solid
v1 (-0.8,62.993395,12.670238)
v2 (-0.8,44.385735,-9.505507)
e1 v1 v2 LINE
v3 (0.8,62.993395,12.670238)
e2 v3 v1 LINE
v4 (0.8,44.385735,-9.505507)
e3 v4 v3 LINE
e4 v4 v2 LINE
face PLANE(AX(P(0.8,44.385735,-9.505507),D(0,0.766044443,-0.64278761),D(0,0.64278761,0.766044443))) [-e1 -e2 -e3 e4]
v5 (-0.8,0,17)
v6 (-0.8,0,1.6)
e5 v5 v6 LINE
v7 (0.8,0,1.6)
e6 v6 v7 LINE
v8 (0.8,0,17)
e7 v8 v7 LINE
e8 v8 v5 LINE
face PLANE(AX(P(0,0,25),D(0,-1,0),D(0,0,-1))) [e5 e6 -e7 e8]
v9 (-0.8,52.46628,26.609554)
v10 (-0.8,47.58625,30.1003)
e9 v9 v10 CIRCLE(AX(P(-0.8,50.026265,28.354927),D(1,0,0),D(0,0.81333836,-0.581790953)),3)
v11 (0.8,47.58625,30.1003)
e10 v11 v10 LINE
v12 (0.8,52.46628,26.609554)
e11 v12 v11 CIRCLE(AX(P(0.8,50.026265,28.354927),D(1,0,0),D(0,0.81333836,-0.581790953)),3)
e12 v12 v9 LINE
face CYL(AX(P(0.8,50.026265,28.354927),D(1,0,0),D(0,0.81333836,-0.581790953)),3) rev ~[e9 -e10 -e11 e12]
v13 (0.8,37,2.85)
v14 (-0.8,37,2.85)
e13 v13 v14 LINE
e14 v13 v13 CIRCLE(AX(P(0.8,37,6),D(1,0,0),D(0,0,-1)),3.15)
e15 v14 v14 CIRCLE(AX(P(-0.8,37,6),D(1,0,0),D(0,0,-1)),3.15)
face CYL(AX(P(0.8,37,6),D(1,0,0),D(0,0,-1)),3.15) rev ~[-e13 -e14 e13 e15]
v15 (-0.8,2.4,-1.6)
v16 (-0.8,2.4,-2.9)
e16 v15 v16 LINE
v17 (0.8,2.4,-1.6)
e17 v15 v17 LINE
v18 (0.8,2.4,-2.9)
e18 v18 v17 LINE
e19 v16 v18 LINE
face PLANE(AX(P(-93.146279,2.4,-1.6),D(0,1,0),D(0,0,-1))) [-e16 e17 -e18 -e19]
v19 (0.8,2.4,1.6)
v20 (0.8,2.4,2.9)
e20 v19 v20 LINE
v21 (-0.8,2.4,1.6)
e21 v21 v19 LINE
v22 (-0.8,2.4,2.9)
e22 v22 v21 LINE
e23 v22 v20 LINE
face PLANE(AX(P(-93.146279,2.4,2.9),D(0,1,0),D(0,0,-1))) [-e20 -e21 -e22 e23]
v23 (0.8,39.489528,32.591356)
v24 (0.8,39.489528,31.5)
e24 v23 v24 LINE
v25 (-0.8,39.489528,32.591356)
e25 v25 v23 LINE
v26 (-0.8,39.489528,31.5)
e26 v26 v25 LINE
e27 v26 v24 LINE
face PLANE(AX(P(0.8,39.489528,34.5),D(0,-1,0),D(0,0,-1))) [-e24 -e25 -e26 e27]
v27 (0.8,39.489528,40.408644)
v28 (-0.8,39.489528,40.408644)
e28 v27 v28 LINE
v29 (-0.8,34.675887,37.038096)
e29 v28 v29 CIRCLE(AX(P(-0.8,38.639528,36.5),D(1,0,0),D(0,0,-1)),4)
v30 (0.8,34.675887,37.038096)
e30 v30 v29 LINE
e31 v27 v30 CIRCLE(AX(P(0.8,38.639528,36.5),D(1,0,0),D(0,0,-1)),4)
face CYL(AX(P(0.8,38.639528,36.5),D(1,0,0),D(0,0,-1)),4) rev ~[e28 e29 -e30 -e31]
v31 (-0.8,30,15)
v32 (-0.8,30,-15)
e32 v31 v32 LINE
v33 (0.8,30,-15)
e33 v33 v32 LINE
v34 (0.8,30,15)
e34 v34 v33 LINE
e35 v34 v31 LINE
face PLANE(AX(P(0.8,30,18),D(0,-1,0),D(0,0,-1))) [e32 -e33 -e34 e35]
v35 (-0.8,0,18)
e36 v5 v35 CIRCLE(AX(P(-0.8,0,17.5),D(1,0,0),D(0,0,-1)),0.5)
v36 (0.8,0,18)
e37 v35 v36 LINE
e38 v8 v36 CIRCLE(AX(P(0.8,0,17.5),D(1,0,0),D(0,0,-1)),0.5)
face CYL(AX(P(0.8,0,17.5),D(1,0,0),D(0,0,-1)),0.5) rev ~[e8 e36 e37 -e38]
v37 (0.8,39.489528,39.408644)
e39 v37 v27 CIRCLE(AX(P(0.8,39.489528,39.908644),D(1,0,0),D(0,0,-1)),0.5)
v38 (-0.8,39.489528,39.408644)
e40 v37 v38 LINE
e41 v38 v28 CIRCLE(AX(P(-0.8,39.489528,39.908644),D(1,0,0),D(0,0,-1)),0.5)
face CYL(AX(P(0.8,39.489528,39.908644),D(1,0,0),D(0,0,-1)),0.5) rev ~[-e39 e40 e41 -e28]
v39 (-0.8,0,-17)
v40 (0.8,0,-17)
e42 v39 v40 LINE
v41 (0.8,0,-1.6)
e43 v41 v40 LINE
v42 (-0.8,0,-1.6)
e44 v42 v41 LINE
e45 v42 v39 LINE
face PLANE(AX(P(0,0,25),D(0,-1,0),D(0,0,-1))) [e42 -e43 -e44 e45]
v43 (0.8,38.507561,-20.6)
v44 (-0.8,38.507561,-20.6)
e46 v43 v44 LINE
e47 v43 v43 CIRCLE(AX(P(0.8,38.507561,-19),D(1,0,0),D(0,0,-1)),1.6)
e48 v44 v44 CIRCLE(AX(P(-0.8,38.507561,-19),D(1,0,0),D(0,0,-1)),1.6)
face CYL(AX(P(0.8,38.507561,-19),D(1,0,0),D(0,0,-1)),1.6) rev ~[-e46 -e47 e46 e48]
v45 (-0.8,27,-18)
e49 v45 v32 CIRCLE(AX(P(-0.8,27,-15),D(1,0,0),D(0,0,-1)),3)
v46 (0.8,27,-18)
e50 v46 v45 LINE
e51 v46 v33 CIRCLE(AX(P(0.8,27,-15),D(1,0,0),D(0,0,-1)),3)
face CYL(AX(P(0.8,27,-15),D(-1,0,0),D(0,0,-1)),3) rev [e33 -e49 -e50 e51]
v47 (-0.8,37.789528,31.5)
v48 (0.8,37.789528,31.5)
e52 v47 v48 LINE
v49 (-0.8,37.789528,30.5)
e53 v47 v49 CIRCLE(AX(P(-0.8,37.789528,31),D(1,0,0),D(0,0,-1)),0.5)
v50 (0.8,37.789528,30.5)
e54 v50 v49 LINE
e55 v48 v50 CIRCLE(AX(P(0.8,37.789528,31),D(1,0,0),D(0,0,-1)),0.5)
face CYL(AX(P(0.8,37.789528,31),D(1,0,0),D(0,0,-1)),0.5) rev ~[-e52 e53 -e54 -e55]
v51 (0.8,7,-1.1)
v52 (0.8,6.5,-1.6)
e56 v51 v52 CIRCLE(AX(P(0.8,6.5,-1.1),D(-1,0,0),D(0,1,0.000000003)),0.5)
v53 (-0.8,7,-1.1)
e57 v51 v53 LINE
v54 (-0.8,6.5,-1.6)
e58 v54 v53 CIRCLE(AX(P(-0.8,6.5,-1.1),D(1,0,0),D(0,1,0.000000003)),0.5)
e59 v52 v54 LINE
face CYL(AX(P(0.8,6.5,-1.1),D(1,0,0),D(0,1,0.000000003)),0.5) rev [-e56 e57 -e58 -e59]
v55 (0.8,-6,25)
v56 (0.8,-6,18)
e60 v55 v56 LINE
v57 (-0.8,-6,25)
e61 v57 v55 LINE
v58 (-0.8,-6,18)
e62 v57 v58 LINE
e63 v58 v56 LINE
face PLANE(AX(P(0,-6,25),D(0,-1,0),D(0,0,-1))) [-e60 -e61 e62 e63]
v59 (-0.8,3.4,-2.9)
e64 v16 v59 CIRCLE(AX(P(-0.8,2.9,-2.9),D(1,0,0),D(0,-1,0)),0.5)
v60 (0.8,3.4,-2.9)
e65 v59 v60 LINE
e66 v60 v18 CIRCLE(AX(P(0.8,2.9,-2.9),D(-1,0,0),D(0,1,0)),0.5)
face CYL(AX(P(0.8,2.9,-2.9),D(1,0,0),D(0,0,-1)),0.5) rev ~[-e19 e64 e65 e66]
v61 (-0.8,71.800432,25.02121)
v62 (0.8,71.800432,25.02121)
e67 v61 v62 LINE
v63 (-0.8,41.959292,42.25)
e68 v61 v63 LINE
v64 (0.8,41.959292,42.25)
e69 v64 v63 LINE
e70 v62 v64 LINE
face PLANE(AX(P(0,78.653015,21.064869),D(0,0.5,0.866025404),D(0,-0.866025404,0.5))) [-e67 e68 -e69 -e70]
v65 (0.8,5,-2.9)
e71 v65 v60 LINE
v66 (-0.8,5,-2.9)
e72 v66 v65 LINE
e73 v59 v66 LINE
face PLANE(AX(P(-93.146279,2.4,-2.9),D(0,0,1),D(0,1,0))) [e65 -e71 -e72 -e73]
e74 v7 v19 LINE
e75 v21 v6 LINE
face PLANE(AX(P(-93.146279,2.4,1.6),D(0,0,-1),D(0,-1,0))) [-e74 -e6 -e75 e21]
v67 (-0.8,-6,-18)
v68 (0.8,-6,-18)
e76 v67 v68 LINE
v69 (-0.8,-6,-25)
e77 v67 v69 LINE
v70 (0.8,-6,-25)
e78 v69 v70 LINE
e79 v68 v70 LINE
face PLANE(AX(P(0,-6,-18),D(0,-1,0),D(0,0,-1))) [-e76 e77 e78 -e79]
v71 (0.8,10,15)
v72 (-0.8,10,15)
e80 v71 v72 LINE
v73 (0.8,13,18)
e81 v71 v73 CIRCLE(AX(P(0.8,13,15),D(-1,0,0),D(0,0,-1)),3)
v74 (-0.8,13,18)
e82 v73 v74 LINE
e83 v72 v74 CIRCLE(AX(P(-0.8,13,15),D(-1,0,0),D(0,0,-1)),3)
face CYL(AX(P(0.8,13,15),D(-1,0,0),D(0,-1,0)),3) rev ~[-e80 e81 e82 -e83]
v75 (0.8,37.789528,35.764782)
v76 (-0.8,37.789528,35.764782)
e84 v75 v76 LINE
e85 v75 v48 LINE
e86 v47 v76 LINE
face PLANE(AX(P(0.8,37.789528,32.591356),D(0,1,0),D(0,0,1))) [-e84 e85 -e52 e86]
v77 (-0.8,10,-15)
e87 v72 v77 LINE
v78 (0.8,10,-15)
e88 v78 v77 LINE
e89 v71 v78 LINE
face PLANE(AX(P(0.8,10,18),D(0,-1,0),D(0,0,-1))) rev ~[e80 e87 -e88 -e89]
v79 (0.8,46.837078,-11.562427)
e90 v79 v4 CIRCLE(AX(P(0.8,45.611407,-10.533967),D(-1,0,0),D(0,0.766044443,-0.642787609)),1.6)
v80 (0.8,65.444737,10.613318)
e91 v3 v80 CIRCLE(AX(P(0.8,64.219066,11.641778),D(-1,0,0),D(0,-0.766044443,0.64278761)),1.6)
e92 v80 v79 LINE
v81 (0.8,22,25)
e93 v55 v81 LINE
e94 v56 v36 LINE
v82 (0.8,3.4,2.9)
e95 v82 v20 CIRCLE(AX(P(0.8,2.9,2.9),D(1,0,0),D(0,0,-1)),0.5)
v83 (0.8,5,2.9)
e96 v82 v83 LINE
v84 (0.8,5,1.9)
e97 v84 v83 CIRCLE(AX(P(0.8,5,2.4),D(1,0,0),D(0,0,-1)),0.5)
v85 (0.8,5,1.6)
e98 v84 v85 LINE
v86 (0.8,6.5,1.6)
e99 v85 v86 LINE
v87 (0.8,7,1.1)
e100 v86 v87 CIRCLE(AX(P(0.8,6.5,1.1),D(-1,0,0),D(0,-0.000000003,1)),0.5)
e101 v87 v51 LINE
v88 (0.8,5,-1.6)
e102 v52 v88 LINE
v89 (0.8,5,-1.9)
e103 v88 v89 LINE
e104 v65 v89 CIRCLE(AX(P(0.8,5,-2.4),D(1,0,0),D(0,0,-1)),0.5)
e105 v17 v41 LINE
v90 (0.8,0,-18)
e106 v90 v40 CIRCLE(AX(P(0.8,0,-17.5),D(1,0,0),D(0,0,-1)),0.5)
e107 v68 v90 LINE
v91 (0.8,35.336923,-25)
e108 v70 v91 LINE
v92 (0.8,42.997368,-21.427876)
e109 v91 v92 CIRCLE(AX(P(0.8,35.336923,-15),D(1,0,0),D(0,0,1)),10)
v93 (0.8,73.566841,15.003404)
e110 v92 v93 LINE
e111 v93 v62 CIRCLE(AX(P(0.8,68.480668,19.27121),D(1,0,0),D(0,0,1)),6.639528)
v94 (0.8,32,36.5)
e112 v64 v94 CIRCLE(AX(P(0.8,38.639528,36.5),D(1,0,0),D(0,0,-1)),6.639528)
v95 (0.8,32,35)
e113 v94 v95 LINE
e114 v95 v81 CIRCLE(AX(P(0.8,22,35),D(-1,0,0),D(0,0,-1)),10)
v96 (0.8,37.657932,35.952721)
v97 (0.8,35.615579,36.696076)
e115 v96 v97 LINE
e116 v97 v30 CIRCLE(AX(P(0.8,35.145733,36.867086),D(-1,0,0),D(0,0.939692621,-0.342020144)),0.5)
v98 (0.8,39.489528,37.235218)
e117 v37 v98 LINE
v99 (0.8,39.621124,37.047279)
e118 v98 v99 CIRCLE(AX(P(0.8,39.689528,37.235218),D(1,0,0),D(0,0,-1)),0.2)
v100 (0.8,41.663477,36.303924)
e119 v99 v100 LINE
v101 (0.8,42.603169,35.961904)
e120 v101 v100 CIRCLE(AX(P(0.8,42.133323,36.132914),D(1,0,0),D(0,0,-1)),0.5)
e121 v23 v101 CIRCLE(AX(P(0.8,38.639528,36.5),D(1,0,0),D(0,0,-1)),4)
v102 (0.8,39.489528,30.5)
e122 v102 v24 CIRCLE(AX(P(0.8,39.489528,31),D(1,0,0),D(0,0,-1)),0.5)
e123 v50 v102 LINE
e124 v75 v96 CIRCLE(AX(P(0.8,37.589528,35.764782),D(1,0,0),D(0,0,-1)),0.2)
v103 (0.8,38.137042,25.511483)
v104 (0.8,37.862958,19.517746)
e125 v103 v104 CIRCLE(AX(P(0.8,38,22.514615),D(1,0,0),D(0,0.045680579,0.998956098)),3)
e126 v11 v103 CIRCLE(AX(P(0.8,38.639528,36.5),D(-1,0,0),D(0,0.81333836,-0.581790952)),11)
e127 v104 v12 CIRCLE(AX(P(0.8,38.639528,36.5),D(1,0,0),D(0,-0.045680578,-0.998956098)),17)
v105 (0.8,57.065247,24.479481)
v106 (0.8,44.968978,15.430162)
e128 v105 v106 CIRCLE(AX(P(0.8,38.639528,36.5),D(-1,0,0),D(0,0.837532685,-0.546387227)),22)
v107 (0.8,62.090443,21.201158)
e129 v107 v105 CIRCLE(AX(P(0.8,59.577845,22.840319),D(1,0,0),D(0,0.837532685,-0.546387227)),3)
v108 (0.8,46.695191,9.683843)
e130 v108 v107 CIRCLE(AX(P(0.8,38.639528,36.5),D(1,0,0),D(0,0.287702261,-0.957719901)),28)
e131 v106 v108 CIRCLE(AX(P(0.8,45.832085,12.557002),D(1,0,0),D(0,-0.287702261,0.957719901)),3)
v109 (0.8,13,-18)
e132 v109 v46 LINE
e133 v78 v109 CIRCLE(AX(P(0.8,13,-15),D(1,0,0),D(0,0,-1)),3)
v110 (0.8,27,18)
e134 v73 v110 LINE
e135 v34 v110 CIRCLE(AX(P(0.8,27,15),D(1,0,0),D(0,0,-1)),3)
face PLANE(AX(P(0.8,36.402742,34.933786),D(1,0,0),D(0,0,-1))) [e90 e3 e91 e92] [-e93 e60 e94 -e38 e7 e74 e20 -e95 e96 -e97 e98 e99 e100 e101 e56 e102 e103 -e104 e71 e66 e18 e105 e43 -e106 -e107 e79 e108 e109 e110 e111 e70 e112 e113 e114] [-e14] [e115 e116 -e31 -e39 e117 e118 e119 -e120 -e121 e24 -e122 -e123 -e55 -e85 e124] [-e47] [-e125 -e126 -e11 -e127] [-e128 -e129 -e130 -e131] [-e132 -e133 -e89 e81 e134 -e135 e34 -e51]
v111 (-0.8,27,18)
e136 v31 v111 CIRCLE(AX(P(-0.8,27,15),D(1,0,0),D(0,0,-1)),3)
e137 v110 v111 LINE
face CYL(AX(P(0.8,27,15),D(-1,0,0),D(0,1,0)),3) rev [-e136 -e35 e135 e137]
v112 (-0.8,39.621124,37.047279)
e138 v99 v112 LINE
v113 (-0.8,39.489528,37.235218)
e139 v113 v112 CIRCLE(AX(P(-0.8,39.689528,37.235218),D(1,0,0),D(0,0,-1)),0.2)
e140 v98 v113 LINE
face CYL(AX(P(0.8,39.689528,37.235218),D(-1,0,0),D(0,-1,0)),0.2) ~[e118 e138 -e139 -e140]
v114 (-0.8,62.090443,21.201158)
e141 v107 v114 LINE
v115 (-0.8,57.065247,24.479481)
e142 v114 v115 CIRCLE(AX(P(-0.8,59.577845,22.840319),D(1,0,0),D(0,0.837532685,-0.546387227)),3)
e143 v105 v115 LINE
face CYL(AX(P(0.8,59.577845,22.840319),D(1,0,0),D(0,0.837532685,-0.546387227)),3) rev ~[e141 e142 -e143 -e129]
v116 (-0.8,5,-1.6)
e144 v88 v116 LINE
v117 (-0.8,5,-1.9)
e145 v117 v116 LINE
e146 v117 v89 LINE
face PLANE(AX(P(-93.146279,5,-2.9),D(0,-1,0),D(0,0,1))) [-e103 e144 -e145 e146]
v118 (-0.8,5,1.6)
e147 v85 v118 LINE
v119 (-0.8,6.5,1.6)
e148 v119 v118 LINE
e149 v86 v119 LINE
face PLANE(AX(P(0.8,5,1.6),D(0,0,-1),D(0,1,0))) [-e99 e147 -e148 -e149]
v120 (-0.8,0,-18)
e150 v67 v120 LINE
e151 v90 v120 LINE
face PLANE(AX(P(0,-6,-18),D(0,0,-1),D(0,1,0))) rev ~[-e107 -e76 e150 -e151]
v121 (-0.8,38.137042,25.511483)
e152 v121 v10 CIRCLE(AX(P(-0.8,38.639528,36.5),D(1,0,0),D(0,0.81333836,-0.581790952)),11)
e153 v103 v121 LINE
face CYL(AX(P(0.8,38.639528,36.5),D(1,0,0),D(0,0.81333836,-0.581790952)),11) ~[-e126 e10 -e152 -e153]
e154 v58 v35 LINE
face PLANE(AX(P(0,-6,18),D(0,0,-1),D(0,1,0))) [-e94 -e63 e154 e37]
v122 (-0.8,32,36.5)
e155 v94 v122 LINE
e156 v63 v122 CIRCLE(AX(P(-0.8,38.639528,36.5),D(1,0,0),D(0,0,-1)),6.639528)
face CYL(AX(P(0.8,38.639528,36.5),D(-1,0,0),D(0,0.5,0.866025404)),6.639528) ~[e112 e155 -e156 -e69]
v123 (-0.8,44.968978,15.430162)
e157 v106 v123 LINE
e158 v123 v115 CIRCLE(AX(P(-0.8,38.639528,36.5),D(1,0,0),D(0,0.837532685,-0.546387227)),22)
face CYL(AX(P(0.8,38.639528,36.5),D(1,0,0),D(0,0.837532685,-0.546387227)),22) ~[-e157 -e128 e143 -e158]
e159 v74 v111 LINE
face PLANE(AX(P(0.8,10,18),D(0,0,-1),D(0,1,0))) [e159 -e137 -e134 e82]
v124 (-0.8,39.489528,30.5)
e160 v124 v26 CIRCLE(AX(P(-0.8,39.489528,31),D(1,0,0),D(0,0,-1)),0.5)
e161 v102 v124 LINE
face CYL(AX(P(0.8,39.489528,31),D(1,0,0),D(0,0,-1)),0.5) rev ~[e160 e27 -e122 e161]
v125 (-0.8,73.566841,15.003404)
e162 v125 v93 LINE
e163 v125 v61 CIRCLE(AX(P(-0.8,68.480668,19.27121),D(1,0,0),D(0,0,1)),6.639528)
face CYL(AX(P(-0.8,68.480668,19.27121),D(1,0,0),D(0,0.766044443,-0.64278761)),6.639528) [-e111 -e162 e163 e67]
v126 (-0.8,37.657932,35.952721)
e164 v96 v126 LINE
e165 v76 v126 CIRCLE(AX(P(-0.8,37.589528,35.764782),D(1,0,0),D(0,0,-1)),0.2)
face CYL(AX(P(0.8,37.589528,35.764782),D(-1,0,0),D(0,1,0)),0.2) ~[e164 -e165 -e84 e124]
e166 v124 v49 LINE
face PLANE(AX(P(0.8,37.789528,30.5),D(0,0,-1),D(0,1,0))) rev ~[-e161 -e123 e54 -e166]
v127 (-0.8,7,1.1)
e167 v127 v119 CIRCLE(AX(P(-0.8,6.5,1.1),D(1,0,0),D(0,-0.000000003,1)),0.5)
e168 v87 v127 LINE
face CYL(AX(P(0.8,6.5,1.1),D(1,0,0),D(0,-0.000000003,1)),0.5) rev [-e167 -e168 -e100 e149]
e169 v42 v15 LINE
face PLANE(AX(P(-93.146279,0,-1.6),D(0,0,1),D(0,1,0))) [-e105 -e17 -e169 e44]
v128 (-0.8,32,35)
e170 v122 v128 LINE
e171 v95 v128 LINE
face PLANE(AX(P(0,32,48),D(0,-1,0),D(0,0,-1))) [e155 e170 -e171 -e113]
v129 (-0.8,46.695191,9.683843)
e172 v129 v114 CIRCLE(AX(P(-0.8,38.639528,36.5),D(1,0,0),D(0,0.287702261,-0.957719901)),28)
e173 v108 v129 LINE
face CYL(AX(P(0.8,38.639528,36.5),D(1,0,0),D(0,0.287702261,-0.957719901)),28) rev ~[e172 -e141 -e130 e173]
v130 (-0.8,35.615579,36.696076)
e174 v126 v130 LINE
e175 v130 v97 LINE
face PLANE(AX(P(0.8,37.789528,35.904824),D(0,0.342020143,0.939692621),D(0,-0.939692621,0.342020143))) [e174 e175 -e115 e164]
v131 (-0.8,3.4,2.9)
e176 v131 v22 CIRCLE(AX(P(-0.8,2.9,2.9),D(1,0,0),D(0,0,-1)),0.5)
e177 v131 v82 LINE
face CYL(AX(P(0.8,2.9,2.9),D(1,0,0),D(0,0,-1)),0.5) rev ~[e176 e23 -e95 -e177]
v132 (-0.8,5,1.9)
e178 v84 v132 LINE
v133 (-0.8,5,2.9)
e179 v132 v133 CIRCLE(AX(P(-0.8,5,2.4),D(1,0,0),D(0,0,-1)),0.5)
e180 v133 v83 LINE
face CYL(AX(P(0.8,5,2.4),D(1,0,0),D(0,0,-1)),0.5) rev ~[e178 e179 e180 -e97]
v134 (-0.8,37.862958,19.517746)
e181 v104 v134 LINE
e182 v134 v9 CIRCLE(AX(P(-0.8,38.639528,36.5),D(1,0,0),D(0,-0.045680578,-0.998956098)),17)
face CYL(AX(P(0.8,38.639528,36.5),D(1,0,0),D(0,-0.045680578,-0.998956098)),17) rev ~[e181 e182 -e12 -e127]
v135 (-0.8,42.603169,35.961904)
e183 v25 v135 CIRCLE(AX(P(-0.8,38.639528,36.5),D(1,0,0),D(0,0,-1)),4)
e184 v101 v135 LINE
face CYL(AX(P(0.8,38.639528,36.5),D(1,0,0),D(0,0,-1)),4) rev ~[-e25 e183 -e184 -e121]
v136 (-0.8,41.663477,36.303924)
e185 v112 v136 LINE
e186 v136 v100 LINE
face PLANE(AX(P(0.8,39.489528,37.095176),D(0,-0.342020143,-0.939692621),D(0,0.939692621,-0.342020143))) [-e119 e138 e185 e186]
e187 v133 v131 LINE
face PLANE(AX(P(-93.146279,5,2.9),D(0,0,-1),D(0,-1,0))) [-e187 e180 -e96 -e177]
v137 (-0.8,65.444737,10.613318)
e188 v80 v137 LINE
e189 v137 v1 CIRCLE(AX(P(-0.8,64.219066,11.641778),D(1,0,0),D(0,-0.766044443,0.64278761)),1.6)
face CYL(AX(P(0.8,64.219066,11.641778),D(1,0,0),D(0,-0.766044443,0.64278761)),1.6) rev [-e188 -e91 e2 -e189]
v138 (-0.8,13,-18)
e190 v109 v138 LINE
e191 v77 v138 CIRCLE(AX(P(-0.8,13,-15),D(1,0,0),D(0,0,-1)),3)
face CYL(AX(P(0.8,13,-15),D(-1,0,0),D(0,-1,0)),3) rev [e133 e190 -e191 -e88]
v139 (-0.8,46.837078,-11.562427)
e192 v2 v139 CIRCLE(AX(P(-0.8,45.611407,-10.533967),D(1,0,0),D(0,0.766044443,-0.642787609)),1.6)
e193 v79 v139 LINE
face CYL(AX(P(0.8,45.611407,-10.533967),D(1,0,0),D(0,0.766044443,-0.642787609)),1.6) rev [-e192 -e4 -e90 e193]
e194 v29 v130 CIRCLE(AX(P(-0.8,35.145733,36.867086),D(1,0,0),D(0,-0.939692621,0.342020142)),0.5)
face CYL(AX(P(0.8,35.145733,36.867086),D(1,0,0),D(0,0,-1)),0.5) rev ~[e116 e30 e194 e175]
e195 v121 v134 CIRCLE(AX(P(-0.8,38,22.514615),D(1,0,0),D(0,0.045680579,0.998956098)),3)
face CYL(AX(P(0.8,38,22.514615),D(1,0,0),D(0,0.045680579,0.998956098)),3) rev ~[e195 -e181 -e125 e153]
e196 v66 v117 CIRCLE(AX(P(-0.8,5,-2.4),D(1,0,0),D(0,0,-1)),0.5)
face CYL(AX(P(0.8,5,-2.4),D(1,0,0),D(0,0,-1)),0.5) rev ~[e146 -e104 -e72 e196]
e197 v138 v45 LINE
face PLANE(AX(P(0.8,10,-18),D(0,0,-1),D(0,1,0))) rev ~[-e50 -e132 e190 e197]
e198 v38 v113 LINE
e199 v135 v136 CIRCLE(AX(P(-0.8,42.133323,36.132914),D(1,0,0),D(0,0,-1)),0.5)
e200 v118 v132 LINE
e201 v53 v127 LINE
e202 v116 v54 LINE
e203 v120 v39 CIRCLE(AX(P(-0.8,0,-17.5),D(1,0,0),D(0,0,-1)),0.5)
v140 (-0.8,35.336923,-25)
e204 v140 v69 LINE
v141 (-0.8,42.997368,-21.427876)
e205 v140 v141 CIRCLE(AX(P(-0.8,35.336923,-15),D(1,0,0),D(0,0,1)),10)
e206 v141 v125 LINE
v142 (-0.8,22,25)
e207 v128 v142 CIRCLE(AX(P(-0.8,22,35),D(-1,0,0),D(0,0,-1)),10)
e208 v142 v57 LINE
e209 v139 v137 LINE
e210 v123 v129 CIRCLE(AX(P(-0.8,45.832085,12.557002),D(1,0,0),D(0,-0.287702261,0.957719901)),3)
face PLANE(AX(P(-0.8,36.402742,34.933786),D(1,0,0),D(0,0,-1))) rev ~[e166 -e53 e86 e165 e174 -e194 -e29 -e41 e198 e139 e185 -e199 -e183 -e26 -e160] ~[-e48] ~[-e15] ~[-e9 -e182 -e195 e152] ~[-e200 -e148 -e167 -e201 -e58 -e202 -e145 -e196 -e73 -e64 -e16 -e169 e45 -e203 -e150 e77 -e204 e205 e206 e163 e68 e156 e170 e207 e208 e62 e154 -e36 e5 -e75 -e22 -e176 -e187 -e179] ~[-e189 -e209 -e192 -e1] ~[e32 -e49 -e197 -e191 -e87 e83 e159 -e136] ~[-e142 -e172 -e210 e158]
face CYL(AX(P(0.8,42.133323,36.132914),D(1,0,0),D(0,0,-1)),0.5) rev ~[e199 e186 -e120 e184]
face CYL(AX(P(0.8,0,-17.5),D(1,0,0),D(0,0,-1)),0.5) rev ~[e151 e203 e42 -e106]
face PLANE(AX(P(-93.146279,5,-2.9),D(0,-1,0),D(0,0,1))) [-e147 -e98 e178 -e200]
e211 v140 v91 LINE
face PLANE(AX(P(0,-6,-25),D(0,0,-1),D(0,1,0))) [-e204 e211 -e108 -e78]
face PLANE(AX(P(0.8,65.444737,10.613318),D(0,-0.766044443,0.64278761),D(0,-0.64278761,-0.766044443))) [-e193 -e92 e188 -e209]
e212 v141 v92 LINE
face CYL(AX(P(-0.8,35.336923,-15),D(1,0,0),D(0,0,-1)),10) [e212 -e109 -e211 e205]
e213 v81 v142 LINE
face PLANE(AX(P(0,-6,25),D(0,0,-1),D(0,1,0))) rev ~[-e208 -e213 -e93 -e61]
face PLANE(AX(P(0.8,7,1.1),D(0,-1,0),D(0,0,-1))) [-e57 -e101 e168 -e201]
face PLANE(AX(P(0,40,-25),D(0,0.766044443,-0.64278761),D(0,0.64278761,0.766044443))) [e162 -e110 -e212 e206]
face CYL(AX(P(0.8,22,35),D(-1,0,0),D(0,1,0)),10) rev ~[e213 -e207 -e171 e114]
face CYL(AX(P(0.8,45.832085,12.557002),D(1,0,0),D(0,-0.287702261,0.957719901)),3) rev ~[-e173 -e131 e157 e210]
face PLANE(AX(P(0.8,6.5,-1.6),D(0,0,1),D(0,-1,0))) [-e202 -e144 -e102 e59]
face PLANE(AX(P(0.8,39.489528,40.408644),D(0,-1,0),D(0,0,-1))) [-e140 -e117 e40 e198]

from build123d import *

# Parameters (mm, degrees)
MAIN_BODY_DEPTH                     = 0.8
SLOT_TABS_REACH                     = 94.146
SKETCH2_W                           = 7
SKETCH2_H                           = 6
SLOT_TABS_DIRECTION_2_REACH         = 94.146
ATTACHMENT_T_SLOT_DEPTH             = 93.146279065
ATTACHMENT_T_SLOT_DEPTH_BACK        = 93.146279065
SKETCH5_R                           = 1.6
CAMERA_SLOT_AND_STANDOFF_HOLE_DEPTH = 93.156696694
SKETCH6_R                           = 4
CAMERA_PLATE_HOLE_DEPTH             = 93.156696694
SKETCH9_W                           = 4
SKETCH9_H                           = 1.7
CAMERA_PLATE_SLOT_DEPTH             = 93.156696694
ANGLE_GUARD_DEPTH                   = 1.6
SKETCH7_W                           = 36
SKETCH7_H                           = 20
CUT_EXTRUDE4_DEPTH                  = 93.156696694
CAMERA_PLATE_HOLE_EASE_R            = 0.2
ACCESS_HOLE_FILLET_R                = 3
SECONDARY_FILLET_R                  = 10
CAMERA_EDGE_FILLET_R                = 6.639528096
SKETCH8_R                           = 3.15
TX_MOUNT_HOLE_DEPTH                 = 87.640768077
CUT_EXTRUDE5_REACH                  = 88.641
SKETCH14_R                          = 0.5
CUT_EXTRUDE6_REACH                  = 88.641


with BuildPart() as part:
    # Sketch1 → main body (new, symmetric)
    with BuildSketch(Plane(origin=(0, 0, 0), x_dir=(0, 0, -1), z_dir=(1, 0, 0))):
        Polygon((-25, 0), (25, 0), (25, 40), (-21.064869316, 78.653014853), (-48, 32), (-25, 32), align=None)
    extrude(amount=MAIN_BODY_DEPTH, both=True)

    # slot tabs: up to this face of the body (flat: up to its plane)
    slot_tabs_end = Plane(part.part.faces().sort_by_distance((0.8, 33.215216507, 6.663009482))[0])
    # Sketch2 → slot tabs (add, up to the picked face)
    with BuildSketch(Plane(origin=(0, 0, 0), x_dir=(0, 0, -1), z_dir=(1, 0, 0)), mode=Mode.PRIVATE) as slot_tabs_sk1:
        with Locations((-21.5, -3)):
            Rectangle(SKETCH2_W, SKETCH2_H)
    slot_tabs_tool1 = split(extrude(slot_tabs_sk1.sketch, amount=SLOT_TABS_REACH, mode=Mode.PRIVATE), bisect_by=slot_tabs_end, keep=Keep.BOTH, mode=Mode.PRIVATE)
    # Sketch2 → slot tabs (add, up to the picked face)
    with BuildSketch(Plane(origin=(0, 0, 0), x_dir=(0, 0, -1), z_dir=(1, 0, 0)), mode=Mode.PRIVATE) as slot_tabs_sk2:
        with Locations((21.5, -3)):
            Rectangle(SKETCH2_W, SKETCH2_H)
    slot_tabs_tool2 = split(extrude(slot_tabs_sk2.sketch, amount=SLOT_TABS_REACH, mode=Mode.PRIVATE), bisect_by=slot_tabs_end, keep=Keep.BOTH, mode=Mode.PRIVATE)
    add(slot_tabs_tool1.solids().sort_by(Axis((0, -3, 21.5), (1, 0, 0)))[0])
    add(slot_tabs_tool2.solids().sort_by(Axis((0, -3, -21.5), (1, 0, 0)))[0])

    # slot tabs direction 2: up to this face of the body (flat: up to its plane)
    slot_tabs_direction_2_end = Plane(part.part.faces().sort_by_distance((-0.8, 33.215216507, 6.663009482))[0])
    # Sketch2 → slot tabs direction 2 (add, up to the picked face)
    with BuildSketch(Plane(origin=(0, 0, 0), x_dir=(0, 0, -1), z_dir=(1, 0, 0)), mode=Mode.PRIVATE) as slot_tabs_direction_2_sk1:
        with Locations((-21.5, -3)):
            Rectangle(SKETCH2_W, SKETCH2_H)
    slot_tabs_direction_2_tool1 = split(extrude(slot_tabs_direction_2_sk1.sketch, amount=-SLOT_TABS_DIRECTION_2_REACH, mode=Mode.PRIVATE), bisect_by=slot_tabs_direction_2_end, keep=Keep.BOTH, mode=Mode.PRIVATE)
    # Sketch2 → slot tabs direction 2 (add, up to the picked face)
    with BuildSketch(Plane(origin=(0, 0, 0), x_dir=(0, 0, -1), z_dir=(1, 0, 0)), mode=Mode.PRIVATE) as slot_tabs_direction_2_sk2:
        with Locations((21.5, -3)):
            Rectangle(SKETCH2_W, SKETCH2_H)
    slot_tabs_direction_2_tool2 = split(extrude(slot_tabs_direction_2_sk2.sketch, amount=-SLOT_TABS_DIRECTION_2_REACH, mode=Mode.PRIVATE), bisect_by=slot_tabs_direction_2_end, keep=Keep.BOTH, mode=Mode.PRIVATE)
    add(slot_tabs_direction_2_tool1.solids().sort_by(Axis((0, -3, 21.5), (-1, 0, 0)))[0])
    add(slot_tabs_direction_2_tool2.solids().sort_by(Axis((0, -3, -21.5), (-1, 0, 0)))[0])

    # Sketch3 → attachment t-slot (cut, two sides: drawn at the far end of the back side and taken through both)
    with BuildSketch(Plane(origin=(0, 0, 0), x_dir=(0, 0, -1), z_dir=(1, 0, 0)).offset(-ATTACHMENT_T_SLOT_DEPTH_BACK)):
        Polygon((-1.6, 2.4), (-1.6, 0), (1.6, 0), (1.6, 2.4), (2.9, 2.4), (2.9, 5), (-2.9, 5), (-2.9, 2.4), align=None)
    extrude(amount=ATTACHMENT_T_SLOT_DEPTH + ATTACHMENT_T_SLOT_DEPTH_BACK, mode=Mode.SUBTRACT)

    # Sketch5 → camera slot and standoff hole (cut, through all)
    with BuildSketch(Plane(origin=(0.8, 0, 0), x_dir=(0, 0, -1), z_dir=(1, 0, 0))):
        with Locations((19, 38.50756134)):
            Circle(SKETCH5_R)
        with BuildLine():
            Line((-10.613317549, 65.444736837), (11.562427184, 46.83707761))
            ThreePointArc((11.562427184, 46.83707761), (11.759638118, 44.582946325), (9.505506833, 44.385735392))
            Line((9.505506833, 44.385735392), (-12.6702379, 62.993394619))
            ThreePointArc((-12.6702379, 62.993394619), (-12.867448834, 65.247525903), (-10.613317549, 65.444736837))
        make_face()
    extrude(amount=-CAMERA_SLOT_AND_STANDOFF_HOLE_DEPTH, mode=Mode.SUBTRACT)

    # Sketch6 → camera plate hole (cut, through all)
    with BuildSketch(Plane(origin=(0.8, 0, 0), x_dir=(0, 0, -1), z_dir=(1, 0, 0))):
        with Locations((-36.5, 38.639528096)):
            Circle(SKETCH6_R)
    extrude(amount=-CAMERA_PLATE_HOLE_DEPTH, mode=Mode.SUBTRACT)

    # Sketch9 → camera plate slot (cut, through all)
    with BuildSketch(Plane(origin=(0.8, 0, 0), x_dir=(0, 0, -1), z_dir=(1, 0, 0))):
        with Locations((-32.5, 38.639528096)):
            Rectangle(SKETCH9_W, SKETCH9_H)
    extrude(amount=-CAMERA_PLATE_SLOT_DEPTH, mode=Mode.SUBTRACT)

    # Sketch11 → angle guard (add)
    with BuildSketch(Plane(origin=(0.8, 0, 0), x_dir=(0, 0, -1), z_dir=(1, 0, 0))):
        with BuildLine():
            Line((-40.408644266, 39.489528096), (-37.095176407, 39.489528096))
            Line((-37.095176407, 39.489528096), (-35.961903656, 42.603169392))
            ThreePointArc((-35.961903656, 42.603169392), (-38.794305745, 41.916136273), (-40.408644266, 39.489528096))
        make_face()
        with BuildLine():
            ThreePointArc((-37.038096344, 34.6758868), (-34.205694255, 35.362919919), (-32.591355734, 37.789528096))
            Line((-32.591355734, 37.789528096), (-35.904823593, 37.789528096))
            Line((-35.904823593, 37.789528096), (-37.038096344, 34.6758868))
        make_face()
    extrude(amount=-ANGLE_GUARD_DEPTH)

    # Sketch7 → Cut-Extrude4 (cut, through all)
    with BuildSketch(Plane(origin=(0.8, 0, 0), x_dir=(0, 0, -1), z_dir=(1, 0, 0))):
        with Locations((0, 20)):
            Rectangle(SKETCH7_W, SKETCH7_H)
    extrude(amount=-CUT_EXTRUDE4_DEPTH, mode=Mode.SUBTRACT)

    # camera plate hole ease
    camera_plate_hole_ease_edges = [part.edges().sort_by_distance(p)[0] for p in [
        (0, 39.489528096, 37.095176407),
        (0, 37.789528096, 35.904823593),
    ]]
    fillet(camera_plate_hole_ease_edges, radius=CAMERA_PLATE_HOLE_EASE_R)

    # access hole fillet
    access_hole_fillet_edges = [part.edges().sort_by_distance(p)[0] for p in [
        (0, 10, 18),
        (0, 30, 18),
        (0, 30, -18),
        (0, 10, -18),
    ]]
    fillet(access_hole_fillet_edges, radius=ACCESS_HOLE_FILLET_R)

    # secondary fillet
    secondary_fillet_edges = [part.edges().sort_by_distance(p)[0] for p in [
        (0, 32, 25),
        (0, 40, -25),
    ]]
    fillet(secondary_fillet_edges, radius=SECONDARY_FILLET_R)

    # camera edge fillet
    camera_edge_fillet_edges = [part.edges().sort_by_distance(p)[0] for p in [
        (0, 32, 48),
        (0, 78.653014853, 21.064869316),
    ]]
    fillet(camera_edge_fillet_edges, radius=CAMERA_EDGE_FILLET_R)

    # Sketch8 → TX mount hole (cut, through all)
    with BuildSketch(Plane(origin=(0.8, 0, 0), x_dir=(0, 0, -1), z_dir=(1, 0, 0))):
        with Locations((-6, 37)):
            Circle(SKETCH8_R)
    extrude(amount=-TX_MOUNT_HOLE_DEPTH, mode=Mode.SUBTRACT)

    # Sketch14 → Cut-Extrude5 (cut, up to next)
    with BuildSketch(Plane(origin=(0.8, 0, 0), x_dir=(0, 0, -1), z_dir=(1, 0, 0)), mode=Mode.PRIVATE) as cut_extrude5_sk1:
        with Locations((-2.4, 5)):
            Circle(SKETCH14_R)
    cut_extrude5_tool1 = extrude(cut_extrude5_sk1.sketch, amount=-CUT_EXTRUDE5_REACH, mode=Mode.PRIVATE) & part.part
    # Sketch14 → Cut-Extrude5 (cut, up to next)
    with BuildSketch(Plane(origin=(0.8, 0, 0), x_dir=(0, 0, -1), z_dir=(1, 0, 0)), mode=Mode.PRIVATE) as cut_extrude5_sk2:
        with Locations((2.4, 5)):
            Circle(SKETCH14_R)
    cut_extrude5_tool2 = extrude(cut_extrude5_sk2.sketch, amount=-CUT_EXTRUDE5_REACH, mode=Mode.PRIVATE) & part.part
    # Sketch14 → Cut-Extrude5 (cut, up to next)
    with BuildSketch(Plane(origin=(0.8, 0, 0), x_dir=(0, 0, -1), z_dir=(1, 0, 0)), mode=Mode.PRIVATE) as cut_extrude5_sk3:
        with Locations((2.9, 2.9)):
            Circle(SKETCH14_R)
    cut_extrude5_tool3 = extrude(cut_extrude5_sk3.sketch, amount=-CUT_EXTRUDE5_REACH, mode=Mode.PRIVATE) & part.part
    # Sketch14 → Cut-Extrude5 (cut, up to next)
    with BuildSketch(Plane(origin=(0.8, 0, 0), x_dir=(0, 0, -1), z_dir=(1, 0, 0)), mode=Mode.PRIVATE) as cut_extrude5_sk4:
        with Locations((-2.9, 2.9)):
            Circle(SKETCH14_R)
    cut_extrude5_tool4 = extrude(cut_extrude5_sk4.sketch, amount=-CUT_EXTRUDE5_REACH, mode=Mode.PRIVATE) & part.part
    # Sketch14 → Cut-Extrude5 (cut, up to next)
    with BuildSketch(Plane(origin=(0.8, 0, 0), x_dir=(0, 0, -1), z_dir=(1, 0, 0)), mode=Mode.PRIVATE) as cut_extrude5_sk5:
        with Locations((-17.5, 0)):
            Circle(SKETCH14_R)
    cut_extrude5_tool5 = extrude(cut_extrude5_sk5.sketch, amount=-CUT_EXTRUDE5_REACH, mode=Mode.PRIVATE) & part.part
    # Sketch14 → Cut-Extrude5 (cut, up to next)
    with BuildSketch(Plane(origin=(0.8, 0, 0), x_dir=(0, 0, -1), z_dir=(1, 0, 0)), mode=Mode.PRIVATE) as cut_extrude5_sk6:
        with Locations((17.5, 0)):
            Circle(SKETCH14_R)
    cut_extrude5_tool6 = extrude(cut_extrude5_sk6.sketch, amount=-CUT_EXTRUDE5_REACH, mode=Mode.PRIVATE) & part.part
    # Sketch14 → Cut-Extrude5 (cut, up to next)
    with BuildSketch(Plane(origin=(0.8, 0, 0), x_dir=(0, 0, -1), z_dir=(1, 0, 0)), mode=Mode.PRIVATE) as cut_extrude5_sk7:
        with Locations((-36.132913727, 42.133323081)):
            Circle(SKETCH14_R)
    cut_extrude5_tool7 = extrude(cut_extrude5_sk7.sketch, amount=-CUT_EXTRUDE5_REACH, mode=Mode.PRIVATE) & part.part
    # Sketch14 → Cut-Extrude5 (cut, up to next)
    with BuildSketch(Plane(origin=(0.8, 0, 0), x_dir=(0, 0, -1), z_dir=(1, 0, 0)), mode=Mode.PRIVATE) as cut_extrude5_sk8:
        with Locations((-39.908644266, 39.489528096)):
            Circle(SKETCH14_R)
    cut_extrude5_tool8 = extrude(cut_extrude5_sk8.sketch, amount=-CUT_EXTRUDE5_REACH, mode=Mode.PRIVATE) & part.part
    # Sketch14 → Cut-Extrude5 (cut, up to next)
    with BuildSketch(Plane(origin=(0.8, 0, 0), x_dir=(0, 0, -1), z_dir=(1, 0, 0)), mode=Mode.PRIVATE) as cut_extrude5_sk9:
        with Locations((-36.867086273, 35.14573311)):
            Circle(SKETCH14_R)
    cut_extrude5_tool9 = extrude(cut_extrude5_sk9.sketch, amount=-CUT_EXTRUDE5_REACH, mode=Mode.PRIVATE) & part.part
    # Sketch14 → Cut-Extrude5 (cut, up to next)
    with BuildSketch(Plane(origin=(0.8, 0, 0), x_dir=(0, 0, -1), z_dir=(1, 0, 0)), mode=Mode.PRIVATE) as cut_extrude5_sk10:
        with Locations((-31, 37.789528096)):
            Circle(SKETCH14_R)
    cut_extrude5_tool10 = extrude(cut_extrude5_sk10.sketch, amount=-CUT_EXTRUDE5_REACH, mode=Mode.PRIVATE) & part.part
    # Sketch14 → Cut-Extrude5 (cut, up to next)
    with BuildSketch(Plane(origin=(0.8, 0, 0), x_dir=(0, 0, -1), z_dir=(1, 0, 0)), mode=Mode.PRIVATE) as cut_extrude5_sk11:
        with Locations((-31, 39.489528096)):
            Circle(SKETCH14_R)
    cut_extrude5_tool11 = extrude(cut_extrude5_sk11.sketch, amount=-CUT_EXTRUDE5_REACH, mode=Mode.PRIVATE) & part.part
    # Sketch14 → Cut-Extrude5 (cut, up to next)
    with BuildSketch(Plane(origin=(0.8, 0, 0), x_dir=(0, 0, -1), z_dir=(1, 0, 0)), mode=Mode.PRIVATE) as cut_extrude5_sk12:
        with BuildLine():
            Line((-1.1, 7), (1.1, 7))
            ThreePointArc((1.1, 7), (1.453553391, 6.853553391), (1.6, 6.5))
            Line((1.6, 6.5), (1.6, 5))
            ThreePointArc((1.6, 5), (0, 3.4), (-1.6, 5))
            Line((-1.6, 5), (-1.6, 6.5))
            ThreePointArc((-1.6, 6.5), (-1.453553391, 6.853553391), (-1.1, 7))
        make_face()
    cut_extrude5_tool12 = extrude(cut_extrude5_sk12.sketch, amount=-CUT_EXTRUDE5_REACH, mode=Mode.PRIVATE) & part.part
    add(cut_extrude5_tool1.solids().sort_by_distance((0.8, 5, 2.4))[0], mode=Mode.SUBTRACT)
    add(cut_extrude5_tool2.solids().sort_by_distance((0.8, 5, -2.4))[0], mode=Mode.SUBTRACT)
    add(cut_extrude5_tool3.solids().sort_by_distance((0.8, 2.9, -2.9))[0], mode=Mode.SUBTRACT)
    add(cut_extrude5_tool4.solids().sort_by_distance((0.8, 2.9, 2.9))[0], mode=Mode.SUBTRACT)
    add(cut_extrude5_tool5.solids().sort_by_distance((0.8, 0, 17.5))[0], mode=Mode.SUBTRACT)
    add(cut_extrude5_tool6.solids().sort_by_distance((0.8, 0, -17.5))[0], mode=Mode.SUBTRACT)
    add(cut_extrude5_tool7.solids().sort_by_distance((0.8, 42.133323, 36.132914))[0], mode=Mode.SUBTRACT)
    add(cut_extrude5_tool8.solids().sort_by_distance((0.8, 39.489528, 39.908644))[0], mode=Mode.SUBTRACT)
    add(cut_extrude5_tool9.solids().sort_by_distance((0.8, 35.145733, 36.867086))[0], mode=Mode.SUBTRACT)
    add(cut_extrude5_tool10.solids().sort_by_distance((0.8, 37.789528, 31))[0], mode=Mode.SUBTRACT)
    add(cut_extrude5_tool11.solids().sort_by_distance((0.8, 39.489528, 31))[0], mode=Mode.SUBTRACT)
    add(cut_extrude5_tool12.solids().sort_by_distance((0.8, 5.336119, 0))[0], mode=Mode.SUBTRACT)

    # Sketch15 → Cut-Extrude6 (cut, up to next)
    with BuildSketch(Plane(origin=(0.8, 0, 0), x_dir=(0, 0, -1), z_dir=(1, 0, 0)), mode=Mode.PRIVATE) as cut_extrude6_sk1:
        with BuildLine():
            ThreePointArc((-19.517746342, 37.862958265), (-21.207853248, 46.065849373), (-26.609553808, 52.466280213))
            ThreePointArc((-26.609553808, 52.466280213), (-30.794941745, 51.771637991), (-30.100299523, 47.586250054))
            ThreePointArc((-30.100299523, 47.586250054), (-26.605081513, 43.444794805), (-25.511482927, 38.137041735))
            ThreePointArc((-25.511482927, 38.137041735), (-22.65165637, 35.003131707), (-19.517746342, 37.862958265))
        make_face()
    cut_extrude6_tool1 = extrude(cut_extrude6_sk1.sketch, amount=-CUT_EXTRUDE6_REACH, mode=Mode.PRIVATE) & part.part
    # Sketch15 → Cut-Extrude6 (cut, up to next)
    with BuildSketch(Plane(origin=(0.8, 0, 0), x_dir=(0, 0, -1), z_dir=(1, 0, 0)), mode=Mode.PRIVATE) as cut_extrude6_sk2:
        with BuildLine():
            ThreePointArc((-9.683842766, 46.695191395), (-14.07965784, 55.41237095), (-21.201157651, 62.090443276))
            ThreePointArc((-21.201157651, 62.090443276), (-25.352917386, 61.217006901), (-24.479481011, 57.065247166))
            ThreePointArc((-24.479481011, 57.065247166), (-18.884016874, 51.818190338), (-15.430162173, 44.968977831))
            ThreePointArc((-15.430162173, 44.968977831), (-11.693895687, 42.95892491), (-9.683842766, 46.695191395))
        make_face()
    cut_extrude6_tool2 = extrude(cut_extrude6_sk2.sketch, amount=-CUT_EXTRUDE6_REACH, mode=Mode.PRIVATE) & part.part
    add(cut_extrude6_tool1.solids().sort_by_distance((0.8, 44.381365, 24.676513))[0], mode=Mode.SUBTRACT)
    add(cut_extrude6_tool2.solids().sort_by_distance((0.8, 53.182243, 17.060681))[0], mode=Mode.SUBTRACT)


solid = part.part
